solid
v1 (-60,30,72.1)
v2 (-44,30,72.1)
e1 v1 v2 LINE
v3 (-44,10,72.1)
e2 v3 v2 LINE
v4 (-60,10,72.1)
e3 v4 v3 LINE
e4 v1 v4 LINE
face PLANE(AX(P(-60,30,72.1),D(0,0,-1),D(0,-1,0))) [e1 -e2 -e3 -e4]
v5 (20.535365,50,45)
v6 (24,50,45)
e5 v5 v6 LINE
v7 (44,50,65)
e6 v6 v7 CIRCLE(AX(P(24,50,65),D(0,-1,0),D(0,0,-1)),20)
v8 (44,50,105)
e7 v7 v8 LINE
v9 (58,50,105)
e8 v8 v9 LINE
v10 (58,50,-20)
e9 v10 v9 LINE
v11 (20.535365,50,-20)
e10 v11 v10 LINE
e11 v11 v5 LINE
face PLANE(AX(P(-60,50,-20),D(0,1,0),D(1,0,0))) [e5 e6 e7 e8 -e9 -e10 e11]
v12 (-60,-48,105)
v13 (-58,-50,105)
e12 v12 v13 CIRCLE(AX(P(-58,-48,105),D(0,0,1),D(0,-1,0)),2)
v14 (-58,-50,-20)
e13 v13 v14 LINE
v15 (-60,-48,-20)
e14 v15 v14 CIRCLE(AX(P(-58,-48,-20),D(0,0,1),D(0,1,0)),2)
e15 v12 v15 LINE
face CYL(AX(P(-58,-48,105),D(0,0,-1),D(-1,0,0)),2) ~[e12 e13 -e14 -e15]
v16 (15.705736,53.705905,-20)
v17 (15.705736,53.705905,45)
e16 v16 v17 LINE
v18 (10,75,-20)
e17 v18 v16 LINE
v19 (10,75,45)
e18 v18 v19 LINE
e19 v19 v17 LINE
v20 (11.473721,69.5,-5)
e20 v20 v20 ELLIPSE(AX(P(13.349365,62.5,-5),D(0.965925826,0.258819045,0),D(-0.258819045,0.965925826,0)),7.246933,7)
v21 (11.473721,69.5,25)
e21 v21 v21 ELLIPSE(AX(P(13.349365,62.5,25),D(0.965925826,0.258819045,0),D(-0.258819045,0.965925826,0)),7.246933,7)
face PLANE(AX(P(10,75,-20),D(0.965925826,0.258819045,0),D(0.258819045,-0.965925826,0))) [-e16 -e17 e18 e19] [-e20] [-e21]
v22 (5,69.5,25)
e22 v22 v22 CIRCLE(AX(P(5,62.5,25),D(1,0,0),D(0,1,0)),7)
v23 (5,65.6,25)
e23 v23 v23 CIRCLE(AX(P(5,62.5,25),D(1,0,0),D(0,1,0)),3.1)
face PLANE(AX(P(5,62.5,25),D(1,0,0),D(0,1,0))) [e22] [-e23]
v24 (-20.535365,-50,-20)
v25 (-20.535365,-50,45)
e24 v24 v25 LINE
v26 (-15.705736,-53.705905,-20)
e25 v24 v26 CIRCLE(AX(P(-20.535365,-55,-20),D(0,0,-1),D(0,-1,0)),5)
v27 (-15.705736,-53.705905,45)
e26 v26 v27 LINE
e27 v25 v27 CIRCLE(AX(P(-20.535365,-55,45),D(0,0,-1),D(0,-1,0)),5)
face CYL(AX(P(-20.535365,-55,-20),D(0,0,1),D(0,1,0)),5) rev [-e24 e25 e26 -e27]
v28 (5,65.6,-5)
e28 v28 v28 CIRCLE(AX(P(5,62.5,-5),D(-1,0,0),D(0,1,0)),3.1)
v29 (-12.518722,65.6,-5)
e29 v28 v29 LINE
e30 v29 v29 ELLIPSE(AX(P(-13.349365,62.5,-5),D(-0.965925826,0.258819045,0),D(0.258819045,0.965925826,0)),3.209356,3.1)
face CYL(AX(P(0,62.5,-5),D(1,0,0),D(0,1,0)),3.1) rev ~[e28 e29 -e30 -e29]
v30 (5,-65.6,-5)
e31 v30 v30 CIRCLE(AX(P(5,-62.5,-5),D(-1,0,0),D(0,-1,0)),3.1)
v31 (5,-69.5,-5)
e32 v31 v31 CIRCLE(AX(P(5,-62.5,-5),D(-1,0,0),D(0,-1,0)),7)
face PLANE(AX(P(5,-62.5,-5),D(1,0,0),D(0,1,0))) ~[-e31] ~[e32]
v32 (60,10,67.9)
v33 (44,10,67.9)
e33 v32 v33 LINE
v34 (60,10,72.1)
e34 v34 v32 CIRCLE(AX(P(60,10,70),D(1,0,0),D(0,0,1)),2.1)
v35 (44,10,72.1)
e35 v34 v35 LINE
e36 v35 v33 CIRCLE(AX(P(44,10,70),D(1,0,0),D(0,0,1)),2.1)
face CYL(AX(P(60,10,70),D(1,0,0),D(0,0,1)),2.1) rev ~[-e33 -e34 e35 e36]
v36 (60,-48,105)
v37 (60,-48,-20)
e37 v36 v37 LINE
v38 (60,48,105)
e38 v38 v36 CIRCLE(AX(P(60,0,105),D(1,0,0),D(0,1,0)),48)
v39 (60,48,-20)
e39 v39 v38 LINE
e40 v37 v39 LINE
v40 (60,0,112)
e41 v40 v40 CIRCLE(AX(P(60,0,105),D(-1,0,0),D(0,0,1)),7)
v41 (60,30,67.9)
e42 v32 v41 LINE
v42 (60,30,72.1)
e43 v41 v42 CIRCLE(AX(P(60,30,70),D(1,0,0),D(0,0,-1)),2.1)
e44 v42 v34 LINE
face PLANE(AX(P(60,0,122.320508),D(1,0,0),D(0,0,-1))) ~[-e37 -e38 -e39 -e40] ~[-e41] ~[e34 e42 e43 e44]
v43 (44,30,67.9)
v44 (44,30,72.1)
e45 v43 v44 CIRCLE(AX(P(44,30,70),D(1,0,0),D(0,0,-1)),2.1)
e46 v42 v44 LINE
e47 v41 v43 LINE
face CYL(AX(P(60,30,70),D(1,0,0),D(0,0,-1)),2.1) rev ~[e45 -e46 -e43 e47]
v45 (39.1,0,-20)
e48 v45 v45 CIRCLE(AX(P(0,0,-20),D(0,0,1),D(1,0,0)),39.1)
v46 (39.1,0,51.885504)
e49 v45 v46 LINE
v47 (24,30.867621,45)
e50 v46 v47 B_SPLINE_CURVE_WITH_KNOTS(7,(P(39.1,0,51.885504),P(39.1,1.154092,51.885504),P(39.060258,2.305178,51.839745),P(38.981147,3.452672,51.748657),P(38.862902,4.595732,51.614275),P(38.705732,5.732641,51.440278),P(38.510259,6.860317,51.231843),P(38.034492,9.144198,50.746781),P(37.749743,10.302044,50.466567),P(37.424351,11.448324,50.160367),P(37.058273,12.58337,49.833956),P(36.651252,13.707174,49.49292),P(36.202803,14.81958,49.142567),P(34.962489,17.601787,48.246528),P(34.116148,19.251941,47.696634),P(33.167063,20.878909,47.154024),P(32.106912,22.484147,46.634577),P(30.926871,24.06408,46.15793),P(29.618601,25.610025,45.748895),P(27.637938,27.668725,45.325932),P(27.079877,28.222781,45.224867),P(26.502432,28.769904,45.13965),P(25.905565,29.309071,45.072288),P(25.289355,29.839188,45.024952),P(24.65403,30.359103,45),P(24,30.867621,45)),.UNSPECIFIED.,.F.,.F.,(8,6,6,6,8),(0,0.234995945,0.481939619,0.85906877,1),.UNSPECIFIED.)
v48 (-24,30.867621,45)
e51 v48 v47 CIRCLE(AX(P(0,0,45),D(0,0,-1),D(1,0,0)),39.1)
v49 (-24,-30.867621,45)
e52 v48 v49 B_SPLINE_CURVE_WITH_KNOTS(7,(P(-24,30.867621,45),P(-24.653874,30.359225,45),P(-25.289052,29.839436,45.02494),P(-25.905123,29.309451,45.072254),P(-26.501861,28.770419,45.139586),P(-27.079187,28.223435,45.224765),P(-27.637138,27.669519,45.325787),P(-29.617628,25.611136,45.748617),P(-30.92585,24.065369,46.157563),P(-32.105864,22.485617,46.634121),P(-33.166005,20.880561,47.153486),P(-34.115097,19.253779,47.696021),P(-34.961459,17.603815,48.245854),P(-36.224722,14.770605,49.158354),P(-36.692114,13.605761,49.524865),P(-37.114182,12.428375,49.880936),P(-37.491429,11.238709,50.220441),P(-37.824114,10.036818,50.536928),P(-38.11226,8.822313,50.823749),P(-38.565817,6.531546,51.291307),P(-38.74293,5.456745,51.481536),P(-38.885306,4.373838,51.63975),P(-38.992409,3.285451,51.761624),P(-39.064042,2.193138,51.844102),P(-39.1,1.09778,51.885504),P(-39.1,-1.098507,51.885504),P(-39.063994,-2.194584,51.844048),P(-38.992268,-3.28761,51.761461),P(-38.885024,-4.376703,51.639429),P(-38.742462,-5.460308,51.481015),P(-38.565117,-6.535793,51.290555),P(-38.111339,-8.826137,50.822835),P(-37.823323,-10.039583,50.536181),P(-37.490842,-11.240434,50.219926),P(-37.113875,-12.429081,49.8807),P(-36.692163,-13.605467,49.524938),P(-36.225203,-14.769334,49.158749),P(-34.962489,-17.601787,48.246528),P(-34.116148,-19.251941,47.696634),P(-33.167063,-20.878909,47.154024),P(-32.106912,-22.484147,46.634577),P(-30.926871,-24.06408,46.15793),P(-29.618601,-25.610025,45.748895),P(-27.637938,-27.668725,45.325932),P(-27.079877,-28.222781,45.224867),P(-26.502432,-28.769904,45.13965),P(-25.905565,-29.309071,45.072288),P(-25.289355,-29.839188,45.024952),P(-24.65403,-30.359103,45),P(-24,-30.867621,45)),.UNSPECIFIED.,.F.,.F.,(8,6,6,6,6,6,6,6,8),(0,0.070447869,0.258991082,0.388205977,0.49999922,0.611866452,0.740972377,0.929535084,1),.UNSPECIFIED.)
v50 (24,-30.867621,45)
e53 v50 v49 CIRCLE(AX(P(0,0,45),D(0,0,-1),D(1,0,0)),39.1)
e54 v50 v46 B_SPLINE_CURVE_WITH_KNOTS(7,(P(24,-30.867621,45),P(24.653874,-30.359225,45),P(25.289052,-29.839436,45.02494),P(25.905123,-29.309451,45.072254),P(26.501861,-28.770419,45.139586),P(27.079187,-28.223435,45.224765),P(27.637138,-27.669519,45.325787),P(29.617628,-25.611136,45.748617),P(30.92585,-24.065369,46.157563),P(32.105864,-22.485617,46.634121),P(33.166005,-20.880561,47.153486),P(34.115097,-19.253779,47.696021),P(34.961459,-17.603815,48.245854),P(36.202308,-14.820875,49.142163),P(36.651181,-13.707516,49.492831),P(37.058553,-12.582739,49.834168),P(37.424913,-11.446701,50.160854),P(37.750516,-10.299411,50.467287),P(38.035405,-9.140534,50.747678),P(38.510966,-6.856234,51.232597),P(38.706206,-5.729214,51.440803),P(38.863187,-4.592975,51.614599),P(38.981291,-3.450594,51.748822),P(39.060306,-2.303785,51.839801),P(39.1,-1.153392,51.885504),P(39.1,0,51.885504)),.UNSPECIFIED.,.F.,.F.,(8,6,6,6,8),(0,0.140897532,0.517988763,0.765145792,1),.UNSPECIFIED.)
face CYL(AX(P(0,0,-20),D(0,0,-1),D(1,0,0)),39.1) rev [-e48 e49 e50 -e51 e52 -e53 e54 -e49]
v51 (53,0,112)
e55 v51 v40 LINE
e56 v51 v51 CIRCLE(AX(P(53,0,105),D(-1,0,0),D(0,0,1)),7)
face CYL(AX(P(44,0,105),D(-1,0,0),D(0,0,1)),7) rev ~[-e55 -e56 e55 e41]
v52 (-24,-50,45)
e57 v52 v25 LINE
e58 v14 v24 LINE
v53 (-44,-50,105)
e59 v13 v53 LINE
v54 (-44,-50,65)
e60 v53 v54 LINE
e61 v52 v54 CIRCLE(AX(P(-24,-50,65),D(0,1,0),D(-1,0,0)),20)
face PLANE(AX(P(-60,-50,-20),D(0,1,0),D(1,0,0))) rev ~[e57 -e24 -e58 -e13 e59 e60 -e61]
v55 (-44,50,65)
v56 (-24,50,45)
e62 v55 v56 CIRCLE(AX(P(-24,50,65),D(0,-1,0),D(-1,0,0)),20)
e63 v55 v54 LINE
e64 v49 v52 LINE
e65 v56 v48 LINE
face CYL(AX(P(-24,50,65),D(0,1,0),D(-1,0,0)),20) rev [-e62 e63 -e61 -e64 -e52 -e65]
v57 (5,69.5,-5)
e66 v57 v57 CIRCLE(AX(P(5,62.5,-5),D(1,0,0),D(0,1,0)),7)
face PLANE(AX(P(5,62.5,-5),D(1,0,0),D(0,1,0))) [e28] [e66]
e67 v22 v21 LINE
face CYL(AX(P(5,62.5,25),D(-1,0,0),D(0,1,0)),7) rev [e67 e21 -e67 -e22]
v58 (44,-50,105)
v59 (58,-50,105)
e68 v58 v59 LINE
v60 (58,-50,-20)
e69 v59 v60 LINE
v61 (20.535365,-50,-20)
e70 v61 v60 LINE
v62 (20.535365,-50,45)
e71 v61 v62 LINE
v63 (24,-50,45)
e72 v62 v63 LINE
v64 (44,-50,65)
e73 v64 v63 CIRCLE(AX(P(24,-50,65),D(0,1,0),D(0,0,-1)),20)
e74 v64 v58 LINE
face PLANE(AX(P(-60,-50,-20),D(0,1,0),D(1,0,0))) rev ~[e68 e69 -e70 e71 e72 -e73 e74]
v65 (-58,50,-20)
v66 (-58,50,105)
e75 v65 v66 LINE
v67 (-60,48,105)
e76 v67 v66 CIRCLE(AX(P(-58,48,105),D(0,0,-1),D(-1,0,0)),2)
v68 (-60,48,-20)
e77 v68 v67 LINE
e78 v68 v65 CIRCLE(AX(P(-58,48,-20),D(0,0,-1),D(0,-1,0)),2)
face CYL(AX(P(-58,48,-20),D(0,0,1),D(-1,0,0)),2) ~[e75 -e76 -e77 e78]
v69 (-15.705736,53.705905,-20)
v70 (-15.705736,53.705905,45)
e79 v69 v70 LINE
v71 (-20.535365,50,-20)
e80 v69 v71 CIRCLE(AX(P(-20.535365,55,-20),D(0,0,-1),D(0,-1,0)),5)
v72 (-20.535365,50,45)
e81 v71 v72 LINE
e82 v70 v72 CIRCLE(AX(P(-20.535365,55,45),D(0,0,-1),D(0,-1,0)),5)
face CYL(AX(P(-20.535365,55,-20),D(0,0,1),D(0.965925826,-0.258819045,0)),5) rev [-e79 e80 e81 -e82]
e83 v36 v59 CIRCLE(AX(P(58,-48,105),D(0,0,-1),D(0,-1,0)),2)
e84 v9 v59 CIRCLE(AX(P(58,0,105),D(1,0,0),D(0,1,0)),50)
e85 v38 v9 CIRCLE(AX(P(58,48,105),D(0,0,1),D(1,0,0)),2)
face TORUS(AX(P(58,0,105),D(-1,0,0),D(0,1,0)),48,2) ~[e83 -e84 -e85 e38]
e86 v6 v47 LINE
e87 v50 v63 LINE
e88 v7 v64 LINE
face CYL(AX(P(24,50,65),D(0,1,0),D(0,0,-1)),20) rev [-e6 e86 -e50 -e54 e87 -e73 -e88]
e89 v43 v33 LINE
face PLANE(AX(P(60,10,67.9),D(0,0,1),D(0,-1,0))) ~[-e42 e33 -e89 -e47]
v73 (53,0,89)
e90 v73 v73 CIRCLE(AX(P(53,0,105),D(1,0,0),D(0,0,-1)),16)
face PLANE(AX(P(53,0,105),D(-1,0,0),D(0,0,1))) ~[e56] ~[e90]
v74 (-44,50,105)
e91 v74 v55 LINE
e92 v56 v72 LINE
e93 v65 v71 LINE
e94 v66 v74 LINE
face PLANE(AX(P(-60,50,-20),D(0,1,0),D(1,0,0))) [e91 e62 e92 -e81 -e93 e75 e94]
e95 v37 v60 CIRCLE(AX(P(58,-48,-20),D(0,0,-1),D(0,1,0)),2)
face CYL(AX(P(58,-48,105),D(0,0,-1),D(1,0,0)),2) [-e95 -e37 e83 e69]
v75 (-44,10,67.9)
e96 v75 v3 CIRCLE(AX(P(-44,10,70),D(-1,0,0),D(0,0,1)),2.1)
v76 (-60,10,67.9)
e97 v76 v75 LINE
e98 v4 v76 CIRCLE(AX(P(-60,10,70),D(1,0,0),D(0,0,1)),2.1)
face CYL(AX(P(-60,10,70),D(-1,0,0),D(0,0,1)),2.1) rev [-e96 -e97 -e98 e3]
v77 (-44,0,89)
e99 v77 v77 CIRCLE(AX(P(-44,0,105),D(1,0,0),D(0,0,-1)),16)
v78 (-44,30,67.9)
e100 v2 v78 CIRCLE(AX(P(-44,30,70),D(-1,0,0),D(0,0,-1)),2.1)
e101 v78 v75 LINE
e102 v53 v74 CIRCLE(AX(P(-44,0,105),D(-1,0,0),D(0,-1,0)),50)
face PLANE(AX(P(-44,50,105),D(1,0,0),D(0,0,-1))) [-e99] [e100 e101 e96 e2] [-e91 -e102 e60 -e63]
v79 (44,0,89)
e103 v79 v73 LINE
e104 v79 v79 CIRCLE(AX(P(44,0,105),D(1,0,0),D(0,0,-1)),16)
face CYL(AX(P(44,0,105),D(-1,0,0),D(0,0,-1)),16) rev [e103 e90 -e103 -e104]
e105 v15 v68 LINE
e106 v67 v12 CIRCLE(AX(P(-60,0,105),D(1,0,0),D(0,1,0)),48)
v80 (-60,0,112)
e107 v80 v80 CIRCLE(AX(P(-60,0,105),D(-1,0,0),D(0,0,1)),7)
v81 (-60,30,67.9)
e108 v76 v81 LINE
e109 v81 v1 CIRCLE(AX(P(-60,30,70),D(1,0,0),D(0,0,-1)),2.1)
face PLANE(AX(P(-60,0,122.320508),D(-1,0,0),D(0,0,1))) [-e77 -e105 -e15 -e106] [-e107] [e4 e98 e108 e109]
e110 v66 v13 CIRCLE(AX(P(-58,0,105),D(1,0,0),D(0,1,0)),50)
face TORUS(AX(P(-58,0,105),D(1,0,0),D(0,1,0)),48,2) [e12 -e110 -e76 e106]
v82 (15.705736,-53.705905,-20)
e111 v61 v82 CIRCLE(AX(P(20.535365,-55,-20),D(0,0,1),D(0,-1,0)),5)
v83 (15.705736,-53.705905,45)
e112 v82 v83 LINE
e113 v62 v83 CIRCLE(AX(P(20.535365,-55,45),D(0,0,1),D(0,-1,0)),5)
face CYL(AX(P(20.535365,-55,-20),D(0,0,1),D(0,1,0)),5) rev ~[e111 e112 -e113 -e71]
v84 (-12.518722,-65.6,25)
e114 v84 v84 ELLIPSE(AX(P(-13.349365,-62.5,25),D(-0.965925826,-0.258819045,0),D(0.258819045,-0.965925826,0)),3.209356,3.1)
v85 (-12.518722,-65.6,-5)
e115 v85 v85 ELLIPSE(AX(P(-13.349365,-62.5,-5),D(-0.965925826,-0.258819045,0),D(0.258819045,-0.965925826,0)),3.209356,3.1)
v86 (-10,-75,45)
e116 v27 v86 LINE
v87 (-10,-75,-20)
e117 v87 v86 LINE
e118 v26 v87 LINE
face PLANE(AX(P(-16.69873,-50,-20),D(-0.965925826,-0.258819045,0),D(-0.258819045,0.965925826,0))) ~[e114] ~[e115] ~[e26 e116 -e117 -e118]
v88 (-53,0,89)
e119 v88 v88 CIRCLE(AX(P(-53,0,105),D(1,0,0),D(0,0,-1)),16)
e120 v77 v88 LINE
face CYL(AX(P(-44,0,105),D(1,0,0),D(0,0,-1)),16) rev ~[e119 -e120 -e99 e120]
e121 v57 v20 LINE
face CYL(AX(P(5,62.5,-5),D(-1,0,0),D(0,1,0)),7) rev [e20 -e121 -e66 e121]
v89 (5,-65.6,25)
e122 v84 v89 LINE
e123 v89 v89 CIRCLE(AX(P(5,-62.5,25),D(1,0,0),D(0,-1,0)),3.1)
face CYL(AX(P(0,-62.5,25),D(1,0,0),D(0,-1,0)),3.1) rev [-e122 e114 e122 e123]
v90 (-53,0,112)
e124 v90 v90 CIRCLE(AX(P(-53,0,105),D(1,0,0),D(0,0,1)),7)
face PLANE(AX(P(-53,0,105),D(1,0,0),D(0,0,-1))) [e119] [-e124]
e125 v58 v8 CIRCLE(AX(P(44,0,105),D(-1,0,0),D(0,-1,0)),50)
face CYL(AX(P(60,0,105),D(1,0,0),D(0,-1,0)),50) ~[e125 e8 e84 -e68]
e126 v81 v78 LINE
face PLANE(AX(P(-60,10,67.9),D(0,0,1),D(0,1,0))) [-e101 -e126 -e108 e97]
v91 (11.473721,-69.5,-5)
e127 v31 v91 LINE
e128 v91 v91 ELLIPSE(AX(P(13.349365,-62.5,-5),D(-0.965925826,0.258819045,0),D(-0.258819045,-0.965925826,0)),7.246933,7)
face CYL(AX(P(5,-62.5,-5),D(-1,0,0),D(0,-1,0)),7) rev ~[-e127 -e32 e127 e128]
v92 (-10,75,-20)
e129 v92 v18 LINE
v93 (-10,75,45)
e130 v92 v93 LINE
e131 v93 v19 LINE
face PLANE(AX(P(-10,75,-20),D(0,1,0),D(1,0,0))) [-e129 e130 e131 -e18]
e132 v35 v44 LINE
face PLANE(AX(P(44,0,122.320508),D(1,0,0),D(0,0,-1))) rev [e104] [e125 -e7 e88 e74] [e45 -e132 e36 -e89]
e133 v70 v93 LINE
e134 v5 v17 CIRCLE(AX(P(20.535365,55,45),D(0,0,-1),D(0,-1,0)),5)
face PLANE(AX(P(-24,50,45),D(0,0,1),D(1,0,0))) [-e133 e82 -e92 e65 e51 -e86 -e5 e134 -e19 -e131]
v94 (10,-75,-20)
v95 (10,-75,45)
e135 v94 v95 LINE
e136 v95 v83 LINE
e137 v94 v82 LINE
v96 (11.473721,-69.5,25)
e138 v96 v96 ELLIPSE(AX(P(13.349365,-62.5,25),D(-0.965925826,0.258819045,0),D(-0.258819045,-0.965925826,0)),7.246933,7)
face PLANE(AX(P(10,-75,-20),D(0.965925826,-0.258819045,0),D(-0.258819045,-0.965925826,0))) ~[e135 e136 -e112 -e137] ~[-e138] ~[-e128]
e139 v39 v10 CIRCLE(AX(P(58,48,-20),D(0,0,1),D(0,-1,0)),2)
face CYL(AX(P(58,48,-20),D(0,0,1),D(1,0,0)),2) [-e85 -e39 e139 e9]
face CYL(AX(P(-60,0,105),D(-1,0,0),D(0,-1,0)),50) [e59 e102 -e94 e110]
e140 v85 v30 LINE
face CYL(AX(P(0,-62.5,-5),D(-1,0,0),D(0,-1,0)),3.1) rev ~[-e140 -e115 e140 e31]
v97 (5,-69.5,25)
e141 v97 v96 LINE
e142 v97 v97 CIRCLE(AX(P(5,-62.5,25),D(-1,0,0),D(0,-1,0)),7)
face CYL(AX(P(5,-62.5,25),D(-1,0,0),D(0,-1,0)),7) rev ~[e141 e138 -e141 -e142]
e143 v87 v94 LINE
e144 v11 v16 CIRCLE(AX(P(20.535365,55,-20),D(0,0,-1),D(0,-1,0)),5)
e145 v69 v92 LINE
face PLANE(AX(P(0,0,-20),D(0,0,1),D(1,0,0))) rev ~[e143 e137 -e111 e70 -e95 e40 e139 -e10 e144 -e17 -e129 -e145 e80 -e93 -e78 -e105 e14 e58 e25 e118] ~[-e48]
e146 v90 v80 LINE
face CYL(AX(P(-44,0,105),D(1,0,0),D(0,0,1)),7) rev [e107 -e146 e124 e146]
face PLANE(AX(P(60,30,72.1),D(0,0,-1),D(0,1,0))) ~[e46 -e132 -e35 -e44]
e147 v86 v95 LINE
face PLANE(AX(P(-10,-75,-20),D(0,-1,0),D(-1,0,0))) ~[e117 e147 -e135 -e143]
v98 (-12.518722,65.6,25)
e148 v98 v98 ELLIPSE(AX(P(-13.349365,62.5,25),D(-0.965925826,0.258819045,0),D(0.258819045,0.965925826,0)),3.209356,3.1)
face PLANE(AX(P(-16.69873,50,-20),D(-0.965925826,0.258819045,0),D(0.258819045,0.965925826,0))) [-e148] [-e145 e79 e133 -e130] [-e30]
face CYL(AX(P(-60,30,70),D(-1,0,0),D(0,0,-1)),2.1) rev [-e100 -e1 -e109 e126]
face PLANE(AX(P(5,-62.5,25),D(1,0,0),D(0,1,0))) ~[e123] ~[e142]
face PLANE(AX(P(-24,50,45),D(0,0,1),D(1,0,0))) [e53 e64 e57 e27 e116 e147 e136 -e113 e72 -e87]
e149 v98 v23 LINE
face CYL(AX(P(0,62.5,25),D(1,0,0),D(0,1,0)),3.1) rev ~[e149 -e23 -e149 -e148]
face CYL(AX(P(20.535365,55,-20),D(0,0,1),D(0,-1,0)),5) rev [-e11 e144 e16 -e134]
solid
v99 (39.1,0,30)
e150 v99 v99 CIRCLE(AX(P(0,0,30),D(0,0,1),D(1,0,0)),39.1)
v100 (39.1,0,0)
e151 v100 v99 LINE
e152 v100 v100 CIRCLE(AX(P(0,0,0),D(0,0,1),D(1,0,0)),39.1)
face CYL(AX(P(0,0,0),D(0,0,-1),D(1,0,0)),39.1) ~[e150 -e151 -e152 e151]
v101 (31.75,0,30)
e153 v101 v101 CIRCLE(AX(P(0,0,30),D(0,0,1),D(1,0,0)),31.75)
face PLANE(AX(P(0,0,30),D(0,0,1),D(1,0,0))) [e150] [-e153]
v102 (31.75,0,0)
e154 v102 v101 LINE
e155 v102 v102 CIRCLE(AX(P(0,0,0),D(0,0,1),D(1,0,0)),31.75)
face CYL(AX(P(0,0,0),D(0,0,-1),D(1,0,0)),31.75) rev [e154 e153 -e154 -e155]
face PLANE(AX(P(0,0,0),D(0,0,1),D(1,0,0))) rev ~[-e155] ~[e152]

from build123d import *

# Parameters (mm, degrees)
SKETCH1_R                 = 39.1
SKETCH1_R_2               = 31.75
CENTRE_HOLE_FOR_L2_DEPTH  = 30
MAIN_STRUCTURE_DEPTH      = 75
MAIN_STRUCTURE_DEPTH_BACK = 50
SKETCH2_W                 = 120
SKETCH2_H                 = 100
SKETCH2_R                 = 39.1
BEARING_CURVE_DEPTH       = 16
SHAFT_START               = -16
SKETCH6_R                 = 7
SHAFT_HOLE_DEPTH          = 16
WRIST_CUTOUT_DEPTH        = 194.971647413
SKETCH9_R                 = 16
BEARING_DEPTH             = 9
BOLT_STRUCTURE_DEPTH      = 65
SKETCH11_R                = 3.1
CUT_EXTRUDE6_DEPTH        = 183.345825288
CUT_EXTRUDE8_REACH        = 189.346
CUT_EXTRUDE8_START        = 5
SKETCH13_R                = 7
FILLET3_R                 = 5
FILLET1_R                 = 2
TENSIONER_SLOT_DEPTH      = 104


with BuildPart() as part:
    # Sketch1 → Centre Hole for L2 (new body)
    with BuildSketch(Plane.XY):
        Circle(SKETCH1_R)
        Circle(SKETCH1_R_2, mode=Mode.SUBTRACT)
    extrude(amount=CENTRE_HOLE_FOR_L2_DEPTH)


with BuildPart() as body_2:
    # Sketch2 → Main Structure (new, two sides: drawn at the far end of the back side and taken through both)
    with BuildSketch(Plane.XY.offset(30).offset(-MAIN_STRUCTURE_DEPTH_BACK)):
        Rectangle(SKETCH2_W, SKETCH2_H)
        Circle(SKETCH2_R, mode=Mode.SUBTRACT)
    extrude(amount=MAIN_STRUCTURE_DEPTH + MAIN_STRUCTURE_DEPTH_BACK)

    # Sketch3 → Bearing Curve (add)
    with BuildSketch(Plane.ZY.offset(60)):
        with BuildLine():
            Line((105, 50), (105, -50))
            ThreePointArc((105, -50), (155, 0), (105, 50))
        make_face()
    bearing_curve = extrude(amount=-BEARING_CURVE_DEPTH)

    # Upright Mirror: Bearing Curve across plane
    add(bearing_curve.mirror(Plane(origin=(0, 0, 0), x_dir=(0, 0, 1), z_dir=(1, 0, 0))))

    # Sketch6 → Shaft Hole (cut)
    with BuildSketch(Plane.ZY.offset(60).offset(SHAFT_START)):
        with Locations((105, 0)):
            Circle(SKETCH6_R)
    shaft_hole = extrude(amount=SHAFT_HOLE_DEPTH, mode=Mode.SUBTRACT)

    # Sketch4 → Wrist Cutout (cut, through all)
    with BuildSketch(Plane(origin=(0, 50, 0), x_dir=(1, 0, 0), z_dir=(0, 1, 0))):
        with BuildLine():
            Line((-44, -105), (-44, -65))
            ThreePointArc((-44, -65), (-38.142135624, -50.857864376), (-24, -45))
            Line((-24, -45), (24, -45))
            ThreePointArc((24, -45), (38.142135624, -50.857864376), (44, -65))
            Line((44, -65), (44, -105))
            Line((44, -105), (-44, -105))
        make_face()
    extrude(amount=-WRIST_CUTOUT_DEPTH, mode=Mode.SUBTRACT)

    # Sketch9 → Bearing (cut)
    with BuildSketch(Plane(origin=(-44, 0, 0), x_dir=(0, 0, -1), z_dir=(1, 0, 0))):
        with Locations((-105, 0)):
            Circle(SKETCH9_R)
    bearing = extrude(amount=-BEARING_DEPTH, mode=Mode.SUBTRACT)

    # Bearing Mirror: Shaft Hole, Bearing across plane
    add(shaft_hole.mirror(Plane(origin=(0, 0, 0), x_dir=(0, 0, 1), z_dir=(1, 0, 0))), mode=Mode.SUBTRACT)
    add(bearing.mirror(Plane(origin=(0, 0, 0), x_dir=(0, 0, 1), z_dir=(1, 0, 0))), mode=Mode.SUBTRACT)

    # Sketch10 → Bolt Structure (add)
    with BuildSketch(Plane(origin=(0, 0, -20), x_dir=(-1, 0, 0), z_dir=(0, 0, -1))):
        Polygon((10, 75), (-10, 75), (-16.698729811, 50), (16.698729811, 50), align=None)
    bolt_structure = extrude(amount=-BOLT_STRUCTURE_DEPTH)

    # Sketch11 → Cut-Extrude6 (cut, symmetric)
    with BuildSketch(Plane(origin=(0, 0, 0), x_dir=(0, 0, -1), z_dir=(1, 0, 0))):
        with Locations(Location((5, 62.5, 0), (0, 0, 90))):
            Circle(SKETCH11_R)
        with Locations(Location((-25, 62.5, 0), (0, 0, 90))):
            Circle(SKETCH11_R)
    cut_extrude6 = extrude(amount=CUT_EXTRUDE6_DEPTH, both=True, mode=Mode.SUBTRACT)

    # Cut-Extrude8: up to this plane
    cut_extrude8_end = Plane(origin=(10, 75, 86.71798544), z_dir=(0.9659258262890692, 0.25881904510251774, 0))
    # Sketch13 → Cut-Extrude8 (cut, up to the surface)
    with BuildSketch(Plane(origin=(0, 0, 0), x_dir=(0, 0, -1), z_dir=(1, 0, 0)).offset(CUT_EXTRUDE8_START), mode=Mode.PRIVATE) as cut_extrude8_sk1:
        with Locations(Location((5, 62.5, 0), (0, 0, 90))):
            Circle(SKETCH13_R)
    cut_extrude8_tool1 = split(extrude(cut_extrude8_sk1.sketch, amount=CUT_EXTRUDE8_REACH, mode=Mode.PRIVATE), bisect_by=cut_extrude8_end, keep=Keep.BOTH, mode=Mode.PRIVATE)
    # Sketch13 → Cut-Extrude8 (cut, up to the surface)
    with BuildSketch(Plane(origin=(0, 0, 0), x_dir=(0, 0, -1), z_dir=(1, 0, 0)).offset(CUT_EXTRUDE8_START), mode=Mode.PRIVATE) as cut_extrude8_sk2:
        with Locations(Location((-25, 62.5, 0), (0, 0, 90))):
            Circle(SKETCH13_R)
    cut_extrude8_tool2 = split(extrude(cut_extrude8_sk2.sketch, amount=CUT_EXTRUDE8_REACH, mode=Mode.PRIVATE), bisect_by=cut_extrude8_end, keep=Keep.BOTH, mode=Mode.PRIVATE)
    cut_extrude8 = cut_extrude8_tool1.solids().sort_by_distance((5, 62.5, -5))[0] + cut_extrude8_tool2.solids().sort_by_distance((5, 62.5, 25))[0]
    add(cut_extrude8, mode=Mode.SUBTRACT)

    # Mirror8: Bolt Structure, Cut-Extrude6, Cut-Extrude8 across plane
    add(bolt_structure.mirror(Plane.ZX))
    add(cut_extrude6.mirror(Plane.ZX), mode=Mode.SUBTRACT)
    add(cut_extrude8.mirror(Plane.ZX), mode=Mode.SUBTRACT)

    # Fillet3
    fillet3_edges = [body_2.edges().sort_by_distance(p)[0] for p in [
        (-16.698729811, 50, 12.5),
        (16.698729811, 50, 12.5),
        (16.698729811, -50, 12.5),
        (-16.698729811, -50, 12.5),
    ]]
    fillet(fillet3_edges, radius=FILLET3_R)

    # Fillet1
    fillet1_edges = [body_2.edges().sort_by_distance(p)[0] for p in [
        (-60, 50, 42.5),
        (60, 50, 42.5),
        (60, -50, 42.5),
        (-60, -50, 42.5),
        (-60, 0, 155),
        (60, 0, 155),
    ]]
    fillet(fillet1_edges, radius=FILLET1_R)

    # Sketch14 → Tensioner Slot (cut)
    with BuildSketch(Plane.ZY.offset(60)):
        with BuildLine():
            Line((72.1, 30), (72.1, 10))
            ThreePointArc((72.1, 10), (70, 7.9), (67.9, 10))
            Line((67.9, 10), (67.9, 30))
            ThreePointArc((67.9, 30), (70, 32.1), (72.1, 30))
        make_face()
    tensioner_slot = extrude(amount=-TENSIONER_SLOT_DEPTH, mode=Mode.SUBTRACT)

    # Mirror9: Tensioner Slot across plane
    add(tensioner_slot.mirror(Plane(origin=(0, 0, 0), x_dir=(0, 0, 1), z_dir=(1, 0, 0))), mode=Mode.SUBTRACT)


solid = Compound([part.part, body_2.part])
